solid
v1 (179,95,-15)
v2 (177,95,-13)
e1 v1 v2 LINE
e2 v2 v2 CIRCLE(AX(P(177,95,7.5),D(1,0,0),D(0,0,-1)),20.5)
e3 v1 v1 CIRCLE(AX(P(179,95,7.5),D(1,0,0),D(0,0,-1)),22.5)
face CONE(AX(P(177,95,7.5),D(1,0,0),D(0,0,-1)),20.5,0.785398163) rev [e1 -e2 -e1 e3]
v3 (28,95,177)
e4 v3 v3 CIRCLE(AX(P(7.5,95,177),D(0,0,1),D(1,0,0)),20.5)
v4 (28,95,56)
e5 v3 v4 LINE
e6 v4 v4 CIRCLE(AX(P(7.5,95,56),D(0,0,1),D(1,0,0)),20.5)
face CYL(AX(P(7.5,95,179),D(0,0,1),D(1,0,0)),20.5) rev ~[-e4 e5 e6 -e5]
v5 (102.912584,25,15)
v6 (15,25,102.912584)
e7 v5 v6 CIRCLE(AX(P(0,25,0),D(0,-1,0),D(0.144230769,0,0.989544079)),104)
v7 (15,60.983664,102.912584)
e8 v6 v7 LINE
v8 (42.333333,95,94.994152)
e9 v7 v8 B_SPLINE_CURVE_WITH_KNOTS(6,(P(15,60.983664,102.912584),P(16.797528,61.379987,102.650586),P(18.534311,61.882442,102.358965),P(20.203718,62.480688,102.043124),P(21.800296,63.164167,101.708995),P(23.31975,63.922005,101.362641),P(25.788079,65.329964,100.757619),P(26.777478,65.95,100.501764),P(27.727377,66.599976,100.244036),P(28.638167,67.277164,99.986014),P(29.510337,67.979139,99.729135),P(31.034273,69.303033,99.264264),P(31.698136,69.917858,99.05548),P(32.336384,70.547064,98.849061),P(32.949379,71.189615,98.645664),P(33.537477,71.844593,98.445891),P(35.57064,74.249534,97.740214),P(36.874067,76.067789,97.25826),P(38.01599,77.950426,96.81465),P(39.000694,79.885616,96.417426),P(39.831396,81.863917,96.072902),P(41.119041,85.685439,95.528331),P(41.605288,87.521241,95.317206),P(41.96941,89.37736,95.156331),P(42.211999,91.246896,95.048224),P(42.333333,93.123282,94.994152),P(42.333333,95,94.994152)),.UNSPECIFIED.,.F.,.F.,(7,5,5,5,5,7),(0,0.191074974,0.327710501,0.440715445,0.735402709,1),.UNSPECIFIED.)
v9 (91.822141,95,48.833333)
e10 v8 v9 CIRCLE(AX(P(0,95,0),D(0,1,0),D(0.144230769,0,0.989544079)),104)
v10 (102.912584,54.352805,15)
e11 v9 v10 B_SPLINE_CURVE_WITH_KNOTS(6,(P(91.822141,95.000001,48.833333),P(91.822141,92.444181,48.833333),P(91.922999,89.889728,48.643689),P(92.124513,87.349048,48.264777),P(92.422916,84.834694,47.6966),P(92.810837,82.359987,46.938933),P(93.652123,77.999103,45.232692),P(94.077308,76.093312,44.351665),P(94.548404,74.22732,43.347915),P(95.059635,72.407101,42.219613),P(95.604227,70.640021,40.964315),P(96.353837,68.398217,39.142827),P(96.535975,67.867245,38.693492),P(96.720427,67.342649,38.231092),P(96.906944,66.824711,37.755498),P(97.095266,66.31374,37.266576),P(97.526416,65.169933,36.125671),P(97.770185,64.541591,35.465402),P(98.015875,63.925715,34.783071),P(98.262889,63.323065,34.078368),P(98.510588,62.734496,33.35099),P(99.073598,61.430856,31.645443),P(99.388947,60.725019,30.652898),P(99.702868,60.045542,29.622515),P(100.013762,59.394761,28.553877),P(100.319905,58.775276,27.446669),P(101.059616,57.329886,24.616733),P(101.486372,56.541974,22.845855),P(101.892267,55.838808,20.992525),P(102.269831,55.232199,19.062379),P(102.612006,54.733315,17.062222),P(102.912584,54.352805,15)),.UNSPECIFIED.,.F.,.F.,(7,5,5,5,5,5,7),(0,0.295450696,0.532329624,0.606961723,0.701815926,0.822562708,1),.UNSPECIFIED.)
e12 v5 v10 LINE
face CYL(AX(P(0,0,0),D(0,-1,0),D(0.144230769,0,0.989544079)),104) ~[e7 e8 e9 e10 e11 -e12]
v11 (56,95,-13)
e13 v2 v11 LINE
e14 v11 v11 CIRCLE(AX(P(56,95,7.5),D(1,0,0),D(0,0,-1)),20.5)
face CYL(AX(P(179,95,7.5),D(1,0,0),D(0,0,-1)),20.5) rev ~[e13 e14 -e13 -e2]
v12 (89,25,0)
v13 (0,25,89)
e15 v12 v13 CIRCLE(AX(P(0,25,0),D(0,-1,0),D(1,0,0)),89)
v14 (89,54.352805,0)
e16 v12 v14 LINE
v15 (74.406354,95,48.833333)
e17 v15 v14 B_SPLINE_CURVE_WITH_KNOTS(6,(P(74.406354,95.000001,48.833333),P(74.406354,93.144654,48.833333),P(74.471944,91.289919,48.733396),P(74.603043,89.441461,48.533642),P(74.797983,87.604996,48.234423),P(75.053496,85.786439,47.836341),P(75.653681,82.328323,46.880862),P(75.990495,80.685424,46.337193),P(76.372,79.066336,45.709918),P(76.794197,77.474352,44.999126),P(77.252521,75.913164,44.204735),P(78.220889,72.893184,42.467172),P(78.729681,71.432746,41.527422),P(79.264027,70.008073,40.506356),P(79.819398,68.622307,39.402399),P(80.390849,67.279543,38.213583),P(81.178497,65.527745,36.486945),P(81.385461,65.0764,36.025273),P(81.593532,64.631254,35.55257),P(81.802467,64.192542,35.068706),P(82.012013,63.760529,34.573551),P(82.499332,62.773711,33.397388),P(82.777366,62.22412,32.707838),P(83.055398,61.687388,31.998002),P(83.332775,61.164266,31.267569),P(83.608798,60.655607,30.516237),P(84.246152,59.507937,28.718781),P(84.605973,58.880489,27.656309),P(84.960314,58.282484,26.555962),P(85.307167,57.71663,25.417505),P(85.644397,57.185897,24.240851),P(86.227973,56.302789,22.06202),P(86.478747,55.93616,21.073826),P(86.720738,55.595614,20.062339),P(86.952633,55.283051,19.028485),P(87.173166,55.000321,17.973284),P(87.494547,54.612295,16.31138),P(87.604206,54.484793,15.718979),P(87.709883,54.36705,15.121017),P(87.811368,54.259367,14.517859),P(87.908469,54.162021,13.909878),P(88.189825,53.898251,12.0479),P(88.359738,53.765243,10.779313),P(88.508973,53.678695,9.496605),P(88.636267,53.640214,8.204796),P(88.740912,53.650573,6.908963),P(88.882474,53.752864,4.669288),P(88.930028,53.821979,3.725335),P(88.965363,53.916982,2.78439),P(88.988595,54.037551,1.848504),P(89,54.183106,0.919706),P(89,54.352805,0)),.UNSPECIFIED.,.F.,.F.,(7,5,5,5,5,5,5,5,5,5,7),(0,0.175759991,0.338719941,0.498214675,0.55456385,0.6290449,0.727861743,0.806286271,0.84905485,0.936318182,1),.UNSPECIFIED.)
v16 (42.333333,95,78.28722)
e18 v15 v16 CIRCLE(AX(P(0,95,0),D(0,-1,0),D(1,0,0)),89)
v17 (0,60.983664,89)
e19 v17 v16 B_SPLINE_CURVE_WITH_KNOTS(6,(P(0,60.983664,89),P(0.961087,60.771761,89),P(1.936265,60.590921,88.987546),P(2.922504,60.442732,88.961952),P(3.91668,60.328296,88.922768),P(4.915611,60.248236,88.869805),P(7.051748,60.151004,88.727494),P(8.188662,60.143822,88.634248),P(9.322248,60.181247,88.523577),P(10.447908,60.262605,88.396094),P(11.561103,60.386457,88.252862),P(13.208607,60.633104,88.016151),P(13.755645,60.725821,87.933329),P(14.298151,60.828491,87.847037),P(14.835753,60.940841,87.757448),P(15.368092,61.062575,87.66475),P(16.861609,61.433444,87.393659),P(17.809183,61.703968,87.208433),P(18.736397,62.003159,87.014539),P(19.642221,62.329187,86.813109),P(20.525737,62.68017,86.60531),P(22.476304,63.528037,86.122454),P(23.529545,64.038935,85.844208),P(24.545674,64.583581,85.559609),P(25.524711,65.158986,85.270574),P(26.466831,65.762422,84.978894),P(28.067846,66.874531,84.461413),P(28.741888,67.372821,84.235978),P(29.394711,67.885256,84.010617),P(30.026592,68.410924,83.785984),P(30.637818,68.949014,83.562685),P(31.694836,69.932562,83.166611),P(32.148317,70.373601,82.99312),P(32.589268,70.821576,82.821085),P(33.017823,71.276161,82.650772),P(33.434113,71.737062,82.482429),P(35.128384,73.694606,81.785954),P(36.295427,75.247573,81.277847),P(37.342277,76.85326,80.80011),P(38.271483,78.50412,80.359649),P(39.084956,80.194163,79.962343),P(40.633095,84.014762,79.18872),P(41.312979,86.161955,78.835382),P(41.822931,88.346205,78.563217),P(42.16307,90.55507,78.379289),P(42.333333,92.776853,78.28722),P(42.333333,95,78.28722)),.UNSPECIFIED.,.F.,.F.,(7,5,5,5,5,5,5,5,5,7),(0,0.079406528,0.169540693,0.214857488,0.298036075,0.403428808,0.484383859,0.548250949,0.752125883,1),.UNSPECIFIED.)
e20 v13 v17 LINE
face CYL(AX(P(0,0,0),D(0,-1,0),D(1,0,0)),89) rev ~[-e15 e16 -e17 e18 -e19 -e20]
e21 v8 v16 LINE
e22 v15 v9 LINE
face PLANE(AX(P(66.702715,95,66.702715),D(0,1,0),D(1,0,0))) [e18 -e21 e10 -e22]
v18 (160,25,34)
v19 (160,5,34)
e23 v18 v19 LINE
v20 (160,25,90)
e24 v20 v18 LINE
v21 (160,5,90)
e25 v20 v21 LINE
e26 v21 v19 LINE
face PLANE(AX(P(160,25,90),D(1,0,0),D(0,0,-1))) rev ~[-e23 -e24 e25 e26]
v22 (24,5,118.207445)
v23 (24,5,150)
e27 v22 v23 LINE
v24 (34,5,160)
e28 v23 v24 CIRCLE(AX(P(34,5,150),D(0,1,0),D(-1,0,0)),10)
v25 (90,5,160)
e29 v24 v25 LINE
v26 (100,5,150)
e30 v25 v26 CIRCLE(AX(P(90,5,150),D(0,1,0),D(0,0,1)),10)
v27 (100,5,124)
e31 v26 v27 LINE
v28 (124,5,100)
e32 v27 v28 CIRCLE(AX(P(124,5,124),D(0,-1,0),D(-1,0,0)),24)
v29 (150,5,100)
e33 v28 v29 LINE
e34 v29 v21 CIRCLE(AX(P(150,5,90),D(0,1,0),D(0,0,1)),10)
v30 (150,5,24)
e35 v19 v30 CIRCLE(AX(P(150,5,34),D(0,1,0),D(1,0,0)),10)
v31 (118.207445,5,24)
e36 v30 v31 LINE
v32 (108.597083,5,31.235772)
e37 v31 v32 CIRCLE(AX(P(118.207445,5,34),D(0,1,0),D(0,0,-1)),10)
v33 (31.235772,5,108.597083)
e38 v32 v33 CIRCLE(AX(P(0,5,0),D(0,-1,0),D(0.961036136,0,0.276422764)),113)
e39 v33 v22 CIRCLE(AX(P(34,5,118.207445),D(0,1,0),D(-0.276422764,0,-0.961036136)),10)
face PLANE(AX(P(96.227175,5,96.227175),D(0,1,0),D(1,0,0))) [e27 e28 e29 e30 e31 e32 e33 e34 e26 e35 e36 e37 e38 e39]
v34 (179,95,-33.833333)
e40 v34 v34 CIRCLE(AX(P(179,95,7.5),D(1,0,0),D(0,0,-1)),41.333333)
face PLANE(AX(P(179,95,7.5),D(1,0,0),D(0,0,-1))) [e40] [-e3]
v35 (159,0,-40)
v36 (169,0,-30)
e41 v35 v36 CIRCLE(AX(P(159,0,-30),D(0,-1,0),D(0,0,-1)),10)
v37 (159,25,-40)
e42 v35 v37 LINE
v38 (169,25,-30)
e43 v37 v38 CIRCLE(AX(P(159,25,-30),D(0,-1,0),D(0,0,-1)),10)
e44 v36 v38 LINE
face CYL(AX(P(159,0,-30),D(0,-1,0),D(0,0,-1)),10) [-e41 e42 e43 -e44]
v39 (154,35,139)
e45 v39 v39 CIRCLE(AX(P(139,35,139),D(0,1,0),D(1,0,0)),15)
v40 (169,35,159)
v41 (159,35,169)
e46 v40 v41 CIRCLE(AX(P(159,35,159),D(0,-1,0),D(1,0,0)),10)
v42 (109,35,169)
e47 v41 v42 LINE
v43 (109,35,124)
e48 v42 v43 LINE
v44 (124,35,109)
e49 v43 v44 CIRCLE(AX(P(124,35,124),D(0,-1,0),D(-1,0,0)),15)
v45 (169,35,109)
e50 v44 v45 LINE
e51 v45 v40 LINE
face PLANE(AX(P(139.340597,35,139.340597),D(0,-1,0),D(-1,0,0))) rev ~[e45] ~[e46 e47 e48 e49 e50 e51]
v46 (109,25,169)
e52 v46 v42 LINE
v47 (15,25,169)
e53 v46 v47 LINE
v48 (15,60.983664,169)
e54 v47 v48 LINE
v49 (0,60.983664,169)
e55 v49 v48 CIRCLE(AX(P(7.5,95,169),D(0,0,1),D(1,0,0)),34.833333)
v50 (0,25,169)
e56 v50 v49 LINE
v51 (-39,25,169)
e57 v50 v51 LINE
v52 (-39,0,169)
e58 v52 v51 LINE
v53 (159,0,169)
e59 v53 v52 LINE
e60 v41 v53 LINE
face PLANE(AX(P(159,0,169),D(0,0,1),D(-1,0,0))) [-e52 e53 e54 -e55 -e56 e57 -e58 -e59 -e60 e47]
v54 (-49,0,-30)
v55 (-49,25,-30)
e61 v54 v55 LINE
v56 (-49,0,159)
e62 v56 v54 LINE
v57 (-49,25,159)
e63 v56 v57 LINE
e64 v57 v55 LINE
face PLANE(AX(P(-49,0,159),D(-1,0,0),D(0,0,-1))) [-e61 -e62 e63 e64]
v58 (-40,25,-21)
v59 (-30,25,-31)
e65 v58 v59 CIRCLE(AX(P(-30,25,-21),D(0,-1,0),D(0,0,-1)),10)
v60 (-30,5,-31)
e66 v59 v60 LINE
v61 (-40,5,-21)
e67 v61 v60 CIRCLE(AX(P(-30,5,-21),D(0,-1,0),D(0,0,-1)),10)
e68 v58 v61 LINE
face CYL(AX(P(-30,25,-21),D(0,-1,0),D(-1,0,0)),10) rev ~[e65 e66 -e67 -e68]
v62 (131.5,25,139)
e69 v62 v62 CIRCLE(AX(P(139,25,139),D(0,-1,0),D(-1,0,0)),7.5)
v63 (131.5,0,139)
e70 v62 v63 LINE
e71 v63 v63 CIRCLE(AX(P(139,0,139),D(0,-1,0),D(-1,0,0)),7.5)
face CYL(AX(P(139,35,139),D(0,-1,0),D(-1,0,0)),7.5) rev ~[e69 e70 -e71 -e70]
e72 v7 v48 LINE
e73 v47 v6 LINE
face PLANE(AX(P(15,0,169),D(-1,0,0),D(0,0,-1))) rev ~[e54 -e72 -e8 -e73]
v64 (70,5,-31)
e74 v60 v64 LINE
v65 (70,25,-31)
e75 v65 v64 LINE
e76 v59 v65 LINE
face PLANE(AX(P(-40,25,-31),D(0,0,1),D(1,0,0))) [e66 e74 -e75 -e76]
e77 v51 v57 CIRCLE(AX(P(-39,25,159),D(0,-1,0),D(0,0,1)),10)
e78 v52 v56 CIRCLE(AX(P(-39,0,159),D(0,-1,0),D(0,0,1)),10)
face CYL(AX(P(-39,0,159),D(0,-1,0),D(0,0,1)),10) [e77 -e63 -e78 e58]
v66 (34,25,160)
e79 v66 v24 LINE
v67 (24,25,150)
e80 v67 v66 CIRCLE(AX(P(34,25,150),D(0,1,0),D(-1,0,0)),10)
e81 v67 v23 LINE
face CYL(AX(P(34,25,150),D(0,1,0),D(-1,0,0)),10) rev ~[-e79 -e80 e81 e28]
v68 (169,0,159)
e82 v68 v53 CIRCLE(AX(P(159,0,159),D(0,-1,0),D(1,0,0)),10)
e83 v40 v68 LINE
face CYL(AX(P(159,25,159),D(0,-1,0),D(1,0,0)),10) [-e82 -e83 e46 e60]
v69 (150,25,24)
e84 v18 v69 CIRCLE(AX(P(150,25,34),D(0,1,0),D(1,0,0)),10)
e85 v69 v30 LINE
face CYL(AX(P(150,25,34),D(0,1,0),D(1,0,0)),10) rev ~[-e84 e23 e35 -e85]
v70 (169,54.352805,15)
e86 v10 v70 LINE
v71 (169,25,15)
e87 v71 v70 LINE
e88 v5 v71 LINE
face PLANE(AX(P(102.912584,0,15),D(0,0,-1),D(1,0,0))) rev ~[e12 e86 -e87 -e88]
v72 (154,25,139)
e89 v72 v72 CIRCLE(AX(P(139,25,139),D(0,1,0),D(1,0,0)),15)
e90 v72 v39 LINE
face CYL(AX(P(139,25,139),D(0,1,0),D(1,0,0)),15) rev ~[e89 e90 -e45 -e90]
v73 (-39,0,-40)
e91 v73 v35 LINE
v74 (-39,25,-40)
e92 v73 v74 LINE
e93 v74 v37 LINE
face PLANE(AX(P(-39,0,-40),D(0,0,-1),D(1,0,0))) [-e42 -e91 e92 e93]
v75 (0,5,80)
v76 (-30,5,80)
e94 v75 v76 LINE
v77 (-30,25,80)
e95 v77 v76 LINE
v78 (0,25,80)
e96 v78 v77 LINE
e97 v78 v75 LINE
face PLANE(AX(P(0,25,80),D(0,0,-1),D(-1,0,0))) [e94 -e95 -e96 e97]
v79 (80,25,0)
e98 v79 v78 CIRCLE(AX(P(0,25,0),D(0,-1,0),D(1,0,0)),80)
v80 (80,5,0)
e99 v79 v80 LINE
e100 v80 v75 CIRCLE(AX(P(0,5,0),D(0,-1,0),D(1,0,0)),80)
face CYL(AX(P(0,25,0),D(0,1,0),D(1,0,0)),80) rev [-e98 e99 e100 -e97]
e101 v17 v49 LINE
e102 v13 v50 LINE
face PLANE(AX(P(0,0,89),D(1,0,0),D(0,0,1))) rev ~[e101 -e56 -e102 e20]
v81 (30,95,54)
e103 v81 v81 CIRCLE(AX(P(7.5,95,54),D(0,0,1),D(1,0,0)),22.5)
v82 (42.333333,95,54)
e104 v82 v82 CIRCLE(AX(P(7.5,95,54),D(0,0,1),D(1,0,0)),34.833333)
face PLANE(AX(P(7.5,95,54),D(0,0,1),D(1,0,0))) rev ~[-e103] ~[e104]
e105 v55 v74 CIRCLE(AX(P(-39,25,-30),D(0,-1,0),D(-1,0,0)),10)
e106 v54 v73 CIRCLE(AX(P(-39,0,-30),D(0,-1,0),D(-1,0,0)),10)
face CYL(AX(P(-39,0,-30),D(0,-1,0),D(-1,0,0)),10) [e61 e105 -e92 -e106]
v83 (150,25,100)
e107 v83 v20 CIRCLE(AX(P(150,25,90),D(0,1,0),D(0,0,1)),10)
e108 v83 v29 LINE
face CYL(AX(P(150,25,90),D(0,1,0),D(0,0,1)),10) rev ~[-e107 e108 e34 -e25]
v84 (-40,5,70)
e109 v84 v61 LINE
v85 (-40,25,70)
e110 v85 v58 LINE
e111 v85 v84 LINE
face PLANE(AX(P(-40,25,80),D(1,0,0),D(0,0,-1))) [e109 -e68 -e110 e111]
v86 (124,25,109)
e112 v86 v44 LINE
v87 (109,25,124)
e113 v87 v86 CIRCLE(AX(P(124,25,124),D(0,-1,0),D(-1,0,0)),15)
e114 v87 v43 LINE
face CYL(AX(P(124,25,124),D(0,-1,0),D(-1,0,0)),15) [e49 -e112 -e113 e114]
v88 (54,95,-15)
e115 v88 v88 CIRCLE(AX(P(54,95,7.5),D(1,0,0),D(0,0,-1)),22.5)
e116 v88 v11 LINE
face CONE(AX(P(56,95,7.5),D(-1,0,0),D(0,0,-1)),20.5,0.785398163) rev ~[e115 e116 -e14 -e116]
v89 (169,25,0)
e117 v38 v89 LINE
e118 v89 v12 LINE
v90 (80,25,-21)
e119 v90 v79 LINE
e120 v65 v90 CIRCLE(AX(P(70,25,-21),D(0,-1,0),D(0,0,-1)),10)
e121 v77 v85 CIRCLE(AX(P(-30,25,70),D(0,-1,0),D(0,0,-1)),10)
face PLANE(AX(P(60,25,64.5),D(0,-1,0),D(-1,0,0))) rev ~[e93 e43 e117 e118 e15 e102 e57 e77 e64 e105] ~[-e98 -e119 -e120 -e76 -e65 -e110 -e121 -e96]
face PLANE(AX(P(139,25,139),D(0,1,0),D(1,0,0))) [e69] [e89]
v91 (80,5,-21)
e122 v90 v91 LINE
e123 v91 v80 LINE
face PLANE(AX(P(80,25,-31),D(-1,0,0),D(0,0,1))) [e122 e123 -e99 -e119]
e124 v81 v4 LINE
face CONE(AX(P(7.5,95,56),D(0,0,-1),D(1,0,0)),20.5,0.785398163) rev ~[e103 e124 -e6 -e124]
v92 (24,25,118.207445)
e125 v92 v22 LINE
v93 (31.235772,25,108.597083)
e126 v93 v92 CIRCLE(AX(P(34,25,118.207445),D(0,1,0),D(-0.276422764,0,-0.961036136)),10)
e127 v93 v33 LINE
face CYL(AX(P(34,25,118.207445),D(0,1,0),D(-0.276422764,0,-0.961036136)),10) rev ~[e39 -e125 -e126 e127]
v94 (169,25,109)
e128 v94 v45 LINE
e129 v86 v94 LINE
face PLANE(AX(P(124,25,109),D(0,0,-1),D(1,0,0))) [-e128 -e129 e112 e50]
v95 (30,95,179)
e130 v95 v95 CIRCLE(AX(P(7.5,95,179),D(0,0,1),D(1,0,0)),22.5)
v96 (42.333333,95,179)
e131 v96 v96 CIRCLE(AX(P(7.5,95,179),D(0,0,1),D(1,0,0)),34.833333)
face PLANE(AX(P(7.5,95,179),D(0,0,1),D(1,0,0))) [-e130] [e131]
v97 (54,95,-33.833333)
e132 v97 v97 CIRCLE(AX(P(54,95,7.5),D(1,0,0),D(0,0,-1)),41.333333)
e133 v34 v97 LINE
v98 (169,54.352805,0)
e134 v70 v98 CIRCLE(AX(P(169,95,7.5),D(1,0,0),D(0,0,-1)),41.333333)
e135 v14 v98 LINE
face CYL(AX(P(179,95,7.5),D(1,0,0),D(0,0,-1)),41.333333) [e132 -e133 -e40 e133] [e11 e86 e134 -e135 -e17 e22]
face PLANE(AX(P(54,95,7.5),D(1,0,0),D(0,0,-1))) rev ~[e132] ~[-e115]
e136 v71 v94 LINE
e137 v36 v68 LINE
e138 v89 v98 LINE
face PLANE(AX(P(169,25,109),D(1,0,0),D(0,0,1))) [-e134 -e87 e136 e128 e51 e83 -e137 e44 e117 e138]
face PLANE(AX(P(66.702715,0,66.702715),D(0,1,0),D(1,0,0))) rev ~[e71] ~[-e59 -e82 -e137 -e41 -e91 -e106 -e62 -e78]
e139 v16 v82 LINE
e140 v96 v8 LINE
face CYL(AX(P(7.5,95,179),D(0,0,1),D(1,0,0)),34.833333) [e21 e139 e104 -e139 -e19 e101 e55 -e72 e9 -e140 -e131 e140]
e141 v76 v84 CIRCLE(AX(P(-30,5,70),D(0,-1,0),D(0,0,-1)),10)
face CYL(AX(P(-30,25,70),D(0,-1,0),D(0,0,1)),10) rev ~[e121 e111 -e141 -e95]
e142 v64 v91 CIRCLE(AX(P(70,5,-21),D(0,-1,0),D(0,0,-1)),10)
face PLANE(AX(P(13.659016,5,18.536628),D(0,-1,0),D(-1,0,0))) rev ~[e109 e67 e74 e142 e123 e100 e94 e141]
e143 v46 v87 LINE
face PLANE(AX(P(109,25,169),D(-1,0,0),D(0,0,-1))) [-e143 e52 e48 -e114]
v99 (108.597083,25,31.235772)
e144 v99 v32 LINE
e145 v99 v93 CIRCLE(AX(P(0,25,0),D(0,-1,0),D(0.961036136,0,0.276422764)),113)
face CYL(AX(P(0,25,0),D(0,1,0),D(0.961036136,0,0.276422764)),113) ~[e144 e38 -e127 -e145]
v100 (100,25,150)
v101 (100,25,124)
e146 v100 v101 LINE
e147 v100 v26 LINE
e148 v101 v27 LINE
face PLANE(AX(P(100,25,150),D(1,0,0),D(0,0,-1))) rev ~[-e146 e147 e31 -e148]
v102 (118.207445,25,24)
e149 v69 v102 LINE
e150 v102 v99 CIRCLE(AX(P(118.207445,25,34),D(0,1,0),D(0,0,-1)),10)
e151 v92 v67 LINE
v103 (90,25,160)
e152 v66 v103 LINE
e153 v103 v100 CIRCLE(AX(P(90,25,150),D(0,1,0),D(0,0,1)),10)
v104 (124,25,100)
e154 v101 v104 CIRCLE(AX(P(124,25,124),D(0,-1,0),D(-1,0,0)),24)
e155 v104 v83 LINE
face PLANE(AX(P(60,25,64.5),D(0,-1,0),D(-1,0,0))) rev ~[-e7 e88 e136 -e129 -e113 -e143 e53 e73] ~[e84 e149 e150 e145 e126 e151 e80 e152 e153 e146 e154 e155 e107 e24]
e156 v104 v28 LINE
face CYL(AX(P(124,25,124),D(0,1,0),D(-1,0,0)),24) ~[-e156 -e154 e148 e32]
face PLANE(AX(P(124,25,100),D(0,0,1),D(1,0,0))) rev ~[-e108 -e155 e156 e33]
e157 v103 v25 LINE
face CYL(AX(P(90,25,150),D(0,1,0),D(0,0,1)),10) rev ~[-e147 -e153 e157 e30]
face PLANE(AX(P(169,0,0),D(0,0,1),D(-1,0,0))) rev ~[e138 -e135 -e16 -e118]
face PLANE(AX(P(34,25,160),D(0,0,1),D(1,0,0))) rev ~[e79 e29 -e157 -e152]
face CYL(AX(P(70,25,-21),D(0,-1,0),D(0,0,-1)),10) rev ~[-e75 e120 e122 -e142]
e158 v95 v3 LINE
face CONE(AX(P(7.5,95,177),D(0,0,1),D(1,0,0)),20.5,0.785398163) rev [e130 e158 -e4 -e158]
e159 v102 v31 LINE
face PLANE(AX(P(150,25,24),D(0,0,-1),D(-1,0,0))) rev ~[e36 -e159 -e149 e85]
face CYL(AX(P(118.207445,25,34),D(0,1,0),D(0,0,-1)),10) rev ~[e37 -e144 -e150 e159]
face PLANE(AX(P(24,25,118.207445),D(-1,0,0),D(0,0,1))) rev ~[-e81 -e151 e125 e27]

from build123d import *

# Parameters (mm, degrees)
BOSS_EXTRUDE1_DEPTH                     = 25
BOSS_EXTRUDE2_START                     = -25
BOSS_EXTRUDE2_DEPTH                     = 95
BOSS_EXTRUDE3_DEPTH                     = 10
CBORE_FOR_M8_HEX_HEAD_BOLT1_D           = 15
CBORE_FOR_M8_HEX_HEAD_BOLT1_CBORE_D     = 30
CBORE_FOR_M8_HEX_HEAD_BOLT1_CBORE_DEPTH = 10
CUT_EXTRUDE1_DEPTH                      = 20
BOSS_EXTRUDE4_START                     = 10
SKETCH7_R                               = 34.833333333
BOSS_EXTRUDE4_DEPTH                     = 125
BOSS_EXTRUDE5_START                     = 10
SKETCH8_R                               = 41.333333333
BOSS_EXTRUDE5_DEPTH                     = 125
CUT_EXTRUDE2_REACH                      = 315.988
SKETCH9_R                               = 20.5
CUT_EXTRUDE3_REACH                      = 322.331
SKETCH10_R                              = 20.5
CHAMFER1_SIZE                           = 2
CUT_EXTRUDE4_DEPTH                      = 20
FILLET1_R                               = 10


with BuildPart() as part:
    # Sketch1 → Boss-Extrude1 (new body)
    with BuildSketch(Plane(origin=(0, 0, 0), x_dir=(1, 0, 0), z_dir=(0, 1, 0))):
        with BuildLine():
            Line((-39, 40), (159, 40))
            ThreePointArc((159, 40), (166.071067812, 37.071067812), (169, 30))
            Line((169, 30), (169, -159))
            ThreePointArc((169, -159), (166.071067812, -166.071067812), (159, -169))
            Line((159, -169), (-39, -169))
            ThreePointArc((-39, -169), (-46.071067812, -166.071067812), (-49, -159))
            Line((-49, -159), (-49, 30))
            ThreePointArc((-49, 30), (-46.071067812, 37.071067812), (-39, 40))
        make_face()
    extrude(amount=BOSS_EXTRUDE1_DEPTH)

    # Sketch2 → Boss-Extrude2 (add)
    with BuildSketch(Plane(origin=(0, 25, 0), x_dir=(1, 0, 0), z_dir=(0, 1, 0)).offset(BOSS_EXTRUDE2_START)):
        with BuildLine():
            Line((0, -89), (0, -169))
            Line((0, -169), (15, -169))
            Line((15, -169), (15, -102.912584265))
            ThreePointArc((15, -102.912584265), (73.539105243, -73.539105243), (102.912584265, -15))
            Line((102.912584265, -15), (169, -15))
            Line((169, -15), (169, 0))
            Line((169, 0), (89, 0))
            ThreePointArc((89, 0), (62.932503526, -62.932503526), (0, -89))
        make_face()
    extrude(amount=BOSS_EXTRUDE2_DEPTH)

    # Sketch3 → Boss-Extrude3 (add)
    with BuildSketch(Plane(origin=(0, 25, 0), x_dir=(1, 0, 0), z_dir=(0, 1, 0))):
        with BuildLine():
            Line((124, -109), (169, -109))
            Line((169, -109), (169, -159))
            ThreePointArc((169, -159), (166.071067812, -166.071067812), (159, -169))
            Line((159, -169), (109, -169))
            Line((109, -169), (109, -124))
            ThreePointArc((109, -124), (113.393398282, -113.393398282), (124, -109))
        make_face()
    extrude(amount=BOSS_EXTRUDE3_DEPTH)

    # CBORE for M8 Hex Head Bolt1 (through all)
    with Locations(Plane(origin=(0, 35, 0), x_dir=(1, 0, 0), z_dir=(0, 1, 0))):
        with Locations((139, -139)):
            CounterBoreHole(CBORE_FOR_M8_HEX_HEAD_BOLT1_D / 2, CBORE_FOR_M8_HEX_HEAD_BOLT1_CBORE_D / 2, CBORE_FOR_M8_HEX_HEAD_BOLT1_CBORE_DEPTH)

    # Sketch6 → Cut-Extrude1 (cut)
    with BuildSketch(Plane(origin=(0, 25, 0), x_dir=(1, 0, 0), z_dir=(0, 1, 0))):
        with BuildLine():
            Line((100, -150), (100, -124))
            ThreePointArc((100, -124), (107.029437252, -107.029437252), (124, -100))
            Line((124, -100), (150, -100))
            ThreePointArc((150, -100), (157.071067812, -97.071067812), (160, -90))
            Line((160, -90), (160, -34))
            ThreePointArc((160, -34), (157.071067812, -26.928932188), (150, -24))
            Line((150, -24), (118.207444774, -24))
            ThreePointArc((118.207444774, -24), (112.192558093, -26.011186683), (108.59708341, -31.235772358))
            ThreePointArc((108.59708341, -31.235772358), (79.903066274, -79.903066274), (31.235772358, -108.59708341))
            ThreePointArc((31.235772358, -108.59708341), (26.011186683, -112.192558093), (24, -118.207444774))
            Line((24, -118.207444774), (24, -150))
            ThreePointArc((24, -150), (26.928932188, -157.071067812), (34, -160))
            Line((34, -160), (90, -160))
            ThreePointArc((90, -160), (97.071067812, -157.071067812), (100, -150))
        make_face()
    extrude(amount=-CUT_EXTRUDE1_DEPTH, mode=Mode.SUBTRACT)

    # Sketch7 → Boss-Extrude4 (add)
    with BuildSketch(Plane.XY.offset(169).offset(BOSS_EXTRUDE4_START)):
        with Locations((7.5, 95)):
            Circle(SKETCH7_R)
    extrude(amount=-BOSS_EXTRUDE4_DEPTH)

    # Sketch8 → Boss-Extrude5 (add)
    with BuildSketch(Plane(origin=(169, 0, 0), x_dir=(0, 0, -1), z_dir=(1, 0, 0)).offset(BOSS_EXTRUDE5_START)):
        with Locations((-7.5, 95)):
            Circle(SKETCH8_R)
    extrude(amount=-BOSS_EXTRUDE5_DEPTH)

    # Sketch9 → Cut-Extrude2 (cut, up to next)
    with BuildSketch(Plane.XY.offset(179), mode=Mode.PRIVATE) as cut_extrude2_sk1:
        with Locations((7.5, 95)):
            Circle(SKETCH9_R)
    cut_extrude2_tool1 = extrude(cut_extrude2_sk1.sketch, amount=-CUT_EXTRUDE2_REACH, mode=Mode.PRIVATE) & part.part
    add(cut_extrude2_tool1.solids().sort_by_distance((7.5, 95, 179))[0], mode=Mode.SUBTRACT)

    # Sketch10 → Cut-Extrude3 (cut, up to next)
    with BuildSketch(Plane(origin=(179, 0, 0), x_dir=(0, 0, -1), z_dir=(1, 0, 0)), mode=Mode.PRIVATE) as cut_extrude3_sk1:
        with Locations((-7.5, 95)):
            Circle(SKETCH10_R)
    cut_extrude3_tool1 = extrude(cut_extrude3_sk1.sketch, amount=-CUT_EXTRUDE3_REACH, mode=Mode.PRIVATE) & part.part
    add(cut_extrude3_tool1.solids().sort_by_distance((179, 95, 7.5))[0], mode=Mode.SUBTRACT)

    # Chamfer1
    chamfer1_edges = [part.edges().sort_by_distance(p)[0] for p in [
        (-13, 95, 179),
        (-13, 95, 54),
        (179, 95, 28),
        (54, 95, 28),
    ]]
    chamfer(chamfer1_edges, length=CHAMFER1_SIZE)

    # Sketch11 → Cut-Extrude4 (cut)
    with BuildSketch(Plane(origin=(0, 25, 0), x_dir=(1, 0, 0), z_dir=(0, 1, 0))):
        with BuildLine():
            Line((0, -80), (-40, -80))
            Line((-40, -80), (-40, 30))
            Line((-40, 30), (-40, 31))
            Line((-40, 31), (-39, 31))
            Line((-39, 31), (80, 31))
            Line((80, 31), (80, 0))
            ThreePointArc((80, 0), (56.568542495, -56.568542495), (0, -80))
        make_face()
    extrude(amount=-CUT_EXTRUDE4_DEPTH, mode=Mode.SUBTRACT)

    # Fillet1
    fillet1_edges = [part.edges().sort_by_distance(p)[0] for p in [
        (-40, 15, 80),
        (-40, 15, -31),
        (80, 15, -31),
    ]]
    fillet(fillet1_edges, radius=FILLET1_R)


solid = part.part
